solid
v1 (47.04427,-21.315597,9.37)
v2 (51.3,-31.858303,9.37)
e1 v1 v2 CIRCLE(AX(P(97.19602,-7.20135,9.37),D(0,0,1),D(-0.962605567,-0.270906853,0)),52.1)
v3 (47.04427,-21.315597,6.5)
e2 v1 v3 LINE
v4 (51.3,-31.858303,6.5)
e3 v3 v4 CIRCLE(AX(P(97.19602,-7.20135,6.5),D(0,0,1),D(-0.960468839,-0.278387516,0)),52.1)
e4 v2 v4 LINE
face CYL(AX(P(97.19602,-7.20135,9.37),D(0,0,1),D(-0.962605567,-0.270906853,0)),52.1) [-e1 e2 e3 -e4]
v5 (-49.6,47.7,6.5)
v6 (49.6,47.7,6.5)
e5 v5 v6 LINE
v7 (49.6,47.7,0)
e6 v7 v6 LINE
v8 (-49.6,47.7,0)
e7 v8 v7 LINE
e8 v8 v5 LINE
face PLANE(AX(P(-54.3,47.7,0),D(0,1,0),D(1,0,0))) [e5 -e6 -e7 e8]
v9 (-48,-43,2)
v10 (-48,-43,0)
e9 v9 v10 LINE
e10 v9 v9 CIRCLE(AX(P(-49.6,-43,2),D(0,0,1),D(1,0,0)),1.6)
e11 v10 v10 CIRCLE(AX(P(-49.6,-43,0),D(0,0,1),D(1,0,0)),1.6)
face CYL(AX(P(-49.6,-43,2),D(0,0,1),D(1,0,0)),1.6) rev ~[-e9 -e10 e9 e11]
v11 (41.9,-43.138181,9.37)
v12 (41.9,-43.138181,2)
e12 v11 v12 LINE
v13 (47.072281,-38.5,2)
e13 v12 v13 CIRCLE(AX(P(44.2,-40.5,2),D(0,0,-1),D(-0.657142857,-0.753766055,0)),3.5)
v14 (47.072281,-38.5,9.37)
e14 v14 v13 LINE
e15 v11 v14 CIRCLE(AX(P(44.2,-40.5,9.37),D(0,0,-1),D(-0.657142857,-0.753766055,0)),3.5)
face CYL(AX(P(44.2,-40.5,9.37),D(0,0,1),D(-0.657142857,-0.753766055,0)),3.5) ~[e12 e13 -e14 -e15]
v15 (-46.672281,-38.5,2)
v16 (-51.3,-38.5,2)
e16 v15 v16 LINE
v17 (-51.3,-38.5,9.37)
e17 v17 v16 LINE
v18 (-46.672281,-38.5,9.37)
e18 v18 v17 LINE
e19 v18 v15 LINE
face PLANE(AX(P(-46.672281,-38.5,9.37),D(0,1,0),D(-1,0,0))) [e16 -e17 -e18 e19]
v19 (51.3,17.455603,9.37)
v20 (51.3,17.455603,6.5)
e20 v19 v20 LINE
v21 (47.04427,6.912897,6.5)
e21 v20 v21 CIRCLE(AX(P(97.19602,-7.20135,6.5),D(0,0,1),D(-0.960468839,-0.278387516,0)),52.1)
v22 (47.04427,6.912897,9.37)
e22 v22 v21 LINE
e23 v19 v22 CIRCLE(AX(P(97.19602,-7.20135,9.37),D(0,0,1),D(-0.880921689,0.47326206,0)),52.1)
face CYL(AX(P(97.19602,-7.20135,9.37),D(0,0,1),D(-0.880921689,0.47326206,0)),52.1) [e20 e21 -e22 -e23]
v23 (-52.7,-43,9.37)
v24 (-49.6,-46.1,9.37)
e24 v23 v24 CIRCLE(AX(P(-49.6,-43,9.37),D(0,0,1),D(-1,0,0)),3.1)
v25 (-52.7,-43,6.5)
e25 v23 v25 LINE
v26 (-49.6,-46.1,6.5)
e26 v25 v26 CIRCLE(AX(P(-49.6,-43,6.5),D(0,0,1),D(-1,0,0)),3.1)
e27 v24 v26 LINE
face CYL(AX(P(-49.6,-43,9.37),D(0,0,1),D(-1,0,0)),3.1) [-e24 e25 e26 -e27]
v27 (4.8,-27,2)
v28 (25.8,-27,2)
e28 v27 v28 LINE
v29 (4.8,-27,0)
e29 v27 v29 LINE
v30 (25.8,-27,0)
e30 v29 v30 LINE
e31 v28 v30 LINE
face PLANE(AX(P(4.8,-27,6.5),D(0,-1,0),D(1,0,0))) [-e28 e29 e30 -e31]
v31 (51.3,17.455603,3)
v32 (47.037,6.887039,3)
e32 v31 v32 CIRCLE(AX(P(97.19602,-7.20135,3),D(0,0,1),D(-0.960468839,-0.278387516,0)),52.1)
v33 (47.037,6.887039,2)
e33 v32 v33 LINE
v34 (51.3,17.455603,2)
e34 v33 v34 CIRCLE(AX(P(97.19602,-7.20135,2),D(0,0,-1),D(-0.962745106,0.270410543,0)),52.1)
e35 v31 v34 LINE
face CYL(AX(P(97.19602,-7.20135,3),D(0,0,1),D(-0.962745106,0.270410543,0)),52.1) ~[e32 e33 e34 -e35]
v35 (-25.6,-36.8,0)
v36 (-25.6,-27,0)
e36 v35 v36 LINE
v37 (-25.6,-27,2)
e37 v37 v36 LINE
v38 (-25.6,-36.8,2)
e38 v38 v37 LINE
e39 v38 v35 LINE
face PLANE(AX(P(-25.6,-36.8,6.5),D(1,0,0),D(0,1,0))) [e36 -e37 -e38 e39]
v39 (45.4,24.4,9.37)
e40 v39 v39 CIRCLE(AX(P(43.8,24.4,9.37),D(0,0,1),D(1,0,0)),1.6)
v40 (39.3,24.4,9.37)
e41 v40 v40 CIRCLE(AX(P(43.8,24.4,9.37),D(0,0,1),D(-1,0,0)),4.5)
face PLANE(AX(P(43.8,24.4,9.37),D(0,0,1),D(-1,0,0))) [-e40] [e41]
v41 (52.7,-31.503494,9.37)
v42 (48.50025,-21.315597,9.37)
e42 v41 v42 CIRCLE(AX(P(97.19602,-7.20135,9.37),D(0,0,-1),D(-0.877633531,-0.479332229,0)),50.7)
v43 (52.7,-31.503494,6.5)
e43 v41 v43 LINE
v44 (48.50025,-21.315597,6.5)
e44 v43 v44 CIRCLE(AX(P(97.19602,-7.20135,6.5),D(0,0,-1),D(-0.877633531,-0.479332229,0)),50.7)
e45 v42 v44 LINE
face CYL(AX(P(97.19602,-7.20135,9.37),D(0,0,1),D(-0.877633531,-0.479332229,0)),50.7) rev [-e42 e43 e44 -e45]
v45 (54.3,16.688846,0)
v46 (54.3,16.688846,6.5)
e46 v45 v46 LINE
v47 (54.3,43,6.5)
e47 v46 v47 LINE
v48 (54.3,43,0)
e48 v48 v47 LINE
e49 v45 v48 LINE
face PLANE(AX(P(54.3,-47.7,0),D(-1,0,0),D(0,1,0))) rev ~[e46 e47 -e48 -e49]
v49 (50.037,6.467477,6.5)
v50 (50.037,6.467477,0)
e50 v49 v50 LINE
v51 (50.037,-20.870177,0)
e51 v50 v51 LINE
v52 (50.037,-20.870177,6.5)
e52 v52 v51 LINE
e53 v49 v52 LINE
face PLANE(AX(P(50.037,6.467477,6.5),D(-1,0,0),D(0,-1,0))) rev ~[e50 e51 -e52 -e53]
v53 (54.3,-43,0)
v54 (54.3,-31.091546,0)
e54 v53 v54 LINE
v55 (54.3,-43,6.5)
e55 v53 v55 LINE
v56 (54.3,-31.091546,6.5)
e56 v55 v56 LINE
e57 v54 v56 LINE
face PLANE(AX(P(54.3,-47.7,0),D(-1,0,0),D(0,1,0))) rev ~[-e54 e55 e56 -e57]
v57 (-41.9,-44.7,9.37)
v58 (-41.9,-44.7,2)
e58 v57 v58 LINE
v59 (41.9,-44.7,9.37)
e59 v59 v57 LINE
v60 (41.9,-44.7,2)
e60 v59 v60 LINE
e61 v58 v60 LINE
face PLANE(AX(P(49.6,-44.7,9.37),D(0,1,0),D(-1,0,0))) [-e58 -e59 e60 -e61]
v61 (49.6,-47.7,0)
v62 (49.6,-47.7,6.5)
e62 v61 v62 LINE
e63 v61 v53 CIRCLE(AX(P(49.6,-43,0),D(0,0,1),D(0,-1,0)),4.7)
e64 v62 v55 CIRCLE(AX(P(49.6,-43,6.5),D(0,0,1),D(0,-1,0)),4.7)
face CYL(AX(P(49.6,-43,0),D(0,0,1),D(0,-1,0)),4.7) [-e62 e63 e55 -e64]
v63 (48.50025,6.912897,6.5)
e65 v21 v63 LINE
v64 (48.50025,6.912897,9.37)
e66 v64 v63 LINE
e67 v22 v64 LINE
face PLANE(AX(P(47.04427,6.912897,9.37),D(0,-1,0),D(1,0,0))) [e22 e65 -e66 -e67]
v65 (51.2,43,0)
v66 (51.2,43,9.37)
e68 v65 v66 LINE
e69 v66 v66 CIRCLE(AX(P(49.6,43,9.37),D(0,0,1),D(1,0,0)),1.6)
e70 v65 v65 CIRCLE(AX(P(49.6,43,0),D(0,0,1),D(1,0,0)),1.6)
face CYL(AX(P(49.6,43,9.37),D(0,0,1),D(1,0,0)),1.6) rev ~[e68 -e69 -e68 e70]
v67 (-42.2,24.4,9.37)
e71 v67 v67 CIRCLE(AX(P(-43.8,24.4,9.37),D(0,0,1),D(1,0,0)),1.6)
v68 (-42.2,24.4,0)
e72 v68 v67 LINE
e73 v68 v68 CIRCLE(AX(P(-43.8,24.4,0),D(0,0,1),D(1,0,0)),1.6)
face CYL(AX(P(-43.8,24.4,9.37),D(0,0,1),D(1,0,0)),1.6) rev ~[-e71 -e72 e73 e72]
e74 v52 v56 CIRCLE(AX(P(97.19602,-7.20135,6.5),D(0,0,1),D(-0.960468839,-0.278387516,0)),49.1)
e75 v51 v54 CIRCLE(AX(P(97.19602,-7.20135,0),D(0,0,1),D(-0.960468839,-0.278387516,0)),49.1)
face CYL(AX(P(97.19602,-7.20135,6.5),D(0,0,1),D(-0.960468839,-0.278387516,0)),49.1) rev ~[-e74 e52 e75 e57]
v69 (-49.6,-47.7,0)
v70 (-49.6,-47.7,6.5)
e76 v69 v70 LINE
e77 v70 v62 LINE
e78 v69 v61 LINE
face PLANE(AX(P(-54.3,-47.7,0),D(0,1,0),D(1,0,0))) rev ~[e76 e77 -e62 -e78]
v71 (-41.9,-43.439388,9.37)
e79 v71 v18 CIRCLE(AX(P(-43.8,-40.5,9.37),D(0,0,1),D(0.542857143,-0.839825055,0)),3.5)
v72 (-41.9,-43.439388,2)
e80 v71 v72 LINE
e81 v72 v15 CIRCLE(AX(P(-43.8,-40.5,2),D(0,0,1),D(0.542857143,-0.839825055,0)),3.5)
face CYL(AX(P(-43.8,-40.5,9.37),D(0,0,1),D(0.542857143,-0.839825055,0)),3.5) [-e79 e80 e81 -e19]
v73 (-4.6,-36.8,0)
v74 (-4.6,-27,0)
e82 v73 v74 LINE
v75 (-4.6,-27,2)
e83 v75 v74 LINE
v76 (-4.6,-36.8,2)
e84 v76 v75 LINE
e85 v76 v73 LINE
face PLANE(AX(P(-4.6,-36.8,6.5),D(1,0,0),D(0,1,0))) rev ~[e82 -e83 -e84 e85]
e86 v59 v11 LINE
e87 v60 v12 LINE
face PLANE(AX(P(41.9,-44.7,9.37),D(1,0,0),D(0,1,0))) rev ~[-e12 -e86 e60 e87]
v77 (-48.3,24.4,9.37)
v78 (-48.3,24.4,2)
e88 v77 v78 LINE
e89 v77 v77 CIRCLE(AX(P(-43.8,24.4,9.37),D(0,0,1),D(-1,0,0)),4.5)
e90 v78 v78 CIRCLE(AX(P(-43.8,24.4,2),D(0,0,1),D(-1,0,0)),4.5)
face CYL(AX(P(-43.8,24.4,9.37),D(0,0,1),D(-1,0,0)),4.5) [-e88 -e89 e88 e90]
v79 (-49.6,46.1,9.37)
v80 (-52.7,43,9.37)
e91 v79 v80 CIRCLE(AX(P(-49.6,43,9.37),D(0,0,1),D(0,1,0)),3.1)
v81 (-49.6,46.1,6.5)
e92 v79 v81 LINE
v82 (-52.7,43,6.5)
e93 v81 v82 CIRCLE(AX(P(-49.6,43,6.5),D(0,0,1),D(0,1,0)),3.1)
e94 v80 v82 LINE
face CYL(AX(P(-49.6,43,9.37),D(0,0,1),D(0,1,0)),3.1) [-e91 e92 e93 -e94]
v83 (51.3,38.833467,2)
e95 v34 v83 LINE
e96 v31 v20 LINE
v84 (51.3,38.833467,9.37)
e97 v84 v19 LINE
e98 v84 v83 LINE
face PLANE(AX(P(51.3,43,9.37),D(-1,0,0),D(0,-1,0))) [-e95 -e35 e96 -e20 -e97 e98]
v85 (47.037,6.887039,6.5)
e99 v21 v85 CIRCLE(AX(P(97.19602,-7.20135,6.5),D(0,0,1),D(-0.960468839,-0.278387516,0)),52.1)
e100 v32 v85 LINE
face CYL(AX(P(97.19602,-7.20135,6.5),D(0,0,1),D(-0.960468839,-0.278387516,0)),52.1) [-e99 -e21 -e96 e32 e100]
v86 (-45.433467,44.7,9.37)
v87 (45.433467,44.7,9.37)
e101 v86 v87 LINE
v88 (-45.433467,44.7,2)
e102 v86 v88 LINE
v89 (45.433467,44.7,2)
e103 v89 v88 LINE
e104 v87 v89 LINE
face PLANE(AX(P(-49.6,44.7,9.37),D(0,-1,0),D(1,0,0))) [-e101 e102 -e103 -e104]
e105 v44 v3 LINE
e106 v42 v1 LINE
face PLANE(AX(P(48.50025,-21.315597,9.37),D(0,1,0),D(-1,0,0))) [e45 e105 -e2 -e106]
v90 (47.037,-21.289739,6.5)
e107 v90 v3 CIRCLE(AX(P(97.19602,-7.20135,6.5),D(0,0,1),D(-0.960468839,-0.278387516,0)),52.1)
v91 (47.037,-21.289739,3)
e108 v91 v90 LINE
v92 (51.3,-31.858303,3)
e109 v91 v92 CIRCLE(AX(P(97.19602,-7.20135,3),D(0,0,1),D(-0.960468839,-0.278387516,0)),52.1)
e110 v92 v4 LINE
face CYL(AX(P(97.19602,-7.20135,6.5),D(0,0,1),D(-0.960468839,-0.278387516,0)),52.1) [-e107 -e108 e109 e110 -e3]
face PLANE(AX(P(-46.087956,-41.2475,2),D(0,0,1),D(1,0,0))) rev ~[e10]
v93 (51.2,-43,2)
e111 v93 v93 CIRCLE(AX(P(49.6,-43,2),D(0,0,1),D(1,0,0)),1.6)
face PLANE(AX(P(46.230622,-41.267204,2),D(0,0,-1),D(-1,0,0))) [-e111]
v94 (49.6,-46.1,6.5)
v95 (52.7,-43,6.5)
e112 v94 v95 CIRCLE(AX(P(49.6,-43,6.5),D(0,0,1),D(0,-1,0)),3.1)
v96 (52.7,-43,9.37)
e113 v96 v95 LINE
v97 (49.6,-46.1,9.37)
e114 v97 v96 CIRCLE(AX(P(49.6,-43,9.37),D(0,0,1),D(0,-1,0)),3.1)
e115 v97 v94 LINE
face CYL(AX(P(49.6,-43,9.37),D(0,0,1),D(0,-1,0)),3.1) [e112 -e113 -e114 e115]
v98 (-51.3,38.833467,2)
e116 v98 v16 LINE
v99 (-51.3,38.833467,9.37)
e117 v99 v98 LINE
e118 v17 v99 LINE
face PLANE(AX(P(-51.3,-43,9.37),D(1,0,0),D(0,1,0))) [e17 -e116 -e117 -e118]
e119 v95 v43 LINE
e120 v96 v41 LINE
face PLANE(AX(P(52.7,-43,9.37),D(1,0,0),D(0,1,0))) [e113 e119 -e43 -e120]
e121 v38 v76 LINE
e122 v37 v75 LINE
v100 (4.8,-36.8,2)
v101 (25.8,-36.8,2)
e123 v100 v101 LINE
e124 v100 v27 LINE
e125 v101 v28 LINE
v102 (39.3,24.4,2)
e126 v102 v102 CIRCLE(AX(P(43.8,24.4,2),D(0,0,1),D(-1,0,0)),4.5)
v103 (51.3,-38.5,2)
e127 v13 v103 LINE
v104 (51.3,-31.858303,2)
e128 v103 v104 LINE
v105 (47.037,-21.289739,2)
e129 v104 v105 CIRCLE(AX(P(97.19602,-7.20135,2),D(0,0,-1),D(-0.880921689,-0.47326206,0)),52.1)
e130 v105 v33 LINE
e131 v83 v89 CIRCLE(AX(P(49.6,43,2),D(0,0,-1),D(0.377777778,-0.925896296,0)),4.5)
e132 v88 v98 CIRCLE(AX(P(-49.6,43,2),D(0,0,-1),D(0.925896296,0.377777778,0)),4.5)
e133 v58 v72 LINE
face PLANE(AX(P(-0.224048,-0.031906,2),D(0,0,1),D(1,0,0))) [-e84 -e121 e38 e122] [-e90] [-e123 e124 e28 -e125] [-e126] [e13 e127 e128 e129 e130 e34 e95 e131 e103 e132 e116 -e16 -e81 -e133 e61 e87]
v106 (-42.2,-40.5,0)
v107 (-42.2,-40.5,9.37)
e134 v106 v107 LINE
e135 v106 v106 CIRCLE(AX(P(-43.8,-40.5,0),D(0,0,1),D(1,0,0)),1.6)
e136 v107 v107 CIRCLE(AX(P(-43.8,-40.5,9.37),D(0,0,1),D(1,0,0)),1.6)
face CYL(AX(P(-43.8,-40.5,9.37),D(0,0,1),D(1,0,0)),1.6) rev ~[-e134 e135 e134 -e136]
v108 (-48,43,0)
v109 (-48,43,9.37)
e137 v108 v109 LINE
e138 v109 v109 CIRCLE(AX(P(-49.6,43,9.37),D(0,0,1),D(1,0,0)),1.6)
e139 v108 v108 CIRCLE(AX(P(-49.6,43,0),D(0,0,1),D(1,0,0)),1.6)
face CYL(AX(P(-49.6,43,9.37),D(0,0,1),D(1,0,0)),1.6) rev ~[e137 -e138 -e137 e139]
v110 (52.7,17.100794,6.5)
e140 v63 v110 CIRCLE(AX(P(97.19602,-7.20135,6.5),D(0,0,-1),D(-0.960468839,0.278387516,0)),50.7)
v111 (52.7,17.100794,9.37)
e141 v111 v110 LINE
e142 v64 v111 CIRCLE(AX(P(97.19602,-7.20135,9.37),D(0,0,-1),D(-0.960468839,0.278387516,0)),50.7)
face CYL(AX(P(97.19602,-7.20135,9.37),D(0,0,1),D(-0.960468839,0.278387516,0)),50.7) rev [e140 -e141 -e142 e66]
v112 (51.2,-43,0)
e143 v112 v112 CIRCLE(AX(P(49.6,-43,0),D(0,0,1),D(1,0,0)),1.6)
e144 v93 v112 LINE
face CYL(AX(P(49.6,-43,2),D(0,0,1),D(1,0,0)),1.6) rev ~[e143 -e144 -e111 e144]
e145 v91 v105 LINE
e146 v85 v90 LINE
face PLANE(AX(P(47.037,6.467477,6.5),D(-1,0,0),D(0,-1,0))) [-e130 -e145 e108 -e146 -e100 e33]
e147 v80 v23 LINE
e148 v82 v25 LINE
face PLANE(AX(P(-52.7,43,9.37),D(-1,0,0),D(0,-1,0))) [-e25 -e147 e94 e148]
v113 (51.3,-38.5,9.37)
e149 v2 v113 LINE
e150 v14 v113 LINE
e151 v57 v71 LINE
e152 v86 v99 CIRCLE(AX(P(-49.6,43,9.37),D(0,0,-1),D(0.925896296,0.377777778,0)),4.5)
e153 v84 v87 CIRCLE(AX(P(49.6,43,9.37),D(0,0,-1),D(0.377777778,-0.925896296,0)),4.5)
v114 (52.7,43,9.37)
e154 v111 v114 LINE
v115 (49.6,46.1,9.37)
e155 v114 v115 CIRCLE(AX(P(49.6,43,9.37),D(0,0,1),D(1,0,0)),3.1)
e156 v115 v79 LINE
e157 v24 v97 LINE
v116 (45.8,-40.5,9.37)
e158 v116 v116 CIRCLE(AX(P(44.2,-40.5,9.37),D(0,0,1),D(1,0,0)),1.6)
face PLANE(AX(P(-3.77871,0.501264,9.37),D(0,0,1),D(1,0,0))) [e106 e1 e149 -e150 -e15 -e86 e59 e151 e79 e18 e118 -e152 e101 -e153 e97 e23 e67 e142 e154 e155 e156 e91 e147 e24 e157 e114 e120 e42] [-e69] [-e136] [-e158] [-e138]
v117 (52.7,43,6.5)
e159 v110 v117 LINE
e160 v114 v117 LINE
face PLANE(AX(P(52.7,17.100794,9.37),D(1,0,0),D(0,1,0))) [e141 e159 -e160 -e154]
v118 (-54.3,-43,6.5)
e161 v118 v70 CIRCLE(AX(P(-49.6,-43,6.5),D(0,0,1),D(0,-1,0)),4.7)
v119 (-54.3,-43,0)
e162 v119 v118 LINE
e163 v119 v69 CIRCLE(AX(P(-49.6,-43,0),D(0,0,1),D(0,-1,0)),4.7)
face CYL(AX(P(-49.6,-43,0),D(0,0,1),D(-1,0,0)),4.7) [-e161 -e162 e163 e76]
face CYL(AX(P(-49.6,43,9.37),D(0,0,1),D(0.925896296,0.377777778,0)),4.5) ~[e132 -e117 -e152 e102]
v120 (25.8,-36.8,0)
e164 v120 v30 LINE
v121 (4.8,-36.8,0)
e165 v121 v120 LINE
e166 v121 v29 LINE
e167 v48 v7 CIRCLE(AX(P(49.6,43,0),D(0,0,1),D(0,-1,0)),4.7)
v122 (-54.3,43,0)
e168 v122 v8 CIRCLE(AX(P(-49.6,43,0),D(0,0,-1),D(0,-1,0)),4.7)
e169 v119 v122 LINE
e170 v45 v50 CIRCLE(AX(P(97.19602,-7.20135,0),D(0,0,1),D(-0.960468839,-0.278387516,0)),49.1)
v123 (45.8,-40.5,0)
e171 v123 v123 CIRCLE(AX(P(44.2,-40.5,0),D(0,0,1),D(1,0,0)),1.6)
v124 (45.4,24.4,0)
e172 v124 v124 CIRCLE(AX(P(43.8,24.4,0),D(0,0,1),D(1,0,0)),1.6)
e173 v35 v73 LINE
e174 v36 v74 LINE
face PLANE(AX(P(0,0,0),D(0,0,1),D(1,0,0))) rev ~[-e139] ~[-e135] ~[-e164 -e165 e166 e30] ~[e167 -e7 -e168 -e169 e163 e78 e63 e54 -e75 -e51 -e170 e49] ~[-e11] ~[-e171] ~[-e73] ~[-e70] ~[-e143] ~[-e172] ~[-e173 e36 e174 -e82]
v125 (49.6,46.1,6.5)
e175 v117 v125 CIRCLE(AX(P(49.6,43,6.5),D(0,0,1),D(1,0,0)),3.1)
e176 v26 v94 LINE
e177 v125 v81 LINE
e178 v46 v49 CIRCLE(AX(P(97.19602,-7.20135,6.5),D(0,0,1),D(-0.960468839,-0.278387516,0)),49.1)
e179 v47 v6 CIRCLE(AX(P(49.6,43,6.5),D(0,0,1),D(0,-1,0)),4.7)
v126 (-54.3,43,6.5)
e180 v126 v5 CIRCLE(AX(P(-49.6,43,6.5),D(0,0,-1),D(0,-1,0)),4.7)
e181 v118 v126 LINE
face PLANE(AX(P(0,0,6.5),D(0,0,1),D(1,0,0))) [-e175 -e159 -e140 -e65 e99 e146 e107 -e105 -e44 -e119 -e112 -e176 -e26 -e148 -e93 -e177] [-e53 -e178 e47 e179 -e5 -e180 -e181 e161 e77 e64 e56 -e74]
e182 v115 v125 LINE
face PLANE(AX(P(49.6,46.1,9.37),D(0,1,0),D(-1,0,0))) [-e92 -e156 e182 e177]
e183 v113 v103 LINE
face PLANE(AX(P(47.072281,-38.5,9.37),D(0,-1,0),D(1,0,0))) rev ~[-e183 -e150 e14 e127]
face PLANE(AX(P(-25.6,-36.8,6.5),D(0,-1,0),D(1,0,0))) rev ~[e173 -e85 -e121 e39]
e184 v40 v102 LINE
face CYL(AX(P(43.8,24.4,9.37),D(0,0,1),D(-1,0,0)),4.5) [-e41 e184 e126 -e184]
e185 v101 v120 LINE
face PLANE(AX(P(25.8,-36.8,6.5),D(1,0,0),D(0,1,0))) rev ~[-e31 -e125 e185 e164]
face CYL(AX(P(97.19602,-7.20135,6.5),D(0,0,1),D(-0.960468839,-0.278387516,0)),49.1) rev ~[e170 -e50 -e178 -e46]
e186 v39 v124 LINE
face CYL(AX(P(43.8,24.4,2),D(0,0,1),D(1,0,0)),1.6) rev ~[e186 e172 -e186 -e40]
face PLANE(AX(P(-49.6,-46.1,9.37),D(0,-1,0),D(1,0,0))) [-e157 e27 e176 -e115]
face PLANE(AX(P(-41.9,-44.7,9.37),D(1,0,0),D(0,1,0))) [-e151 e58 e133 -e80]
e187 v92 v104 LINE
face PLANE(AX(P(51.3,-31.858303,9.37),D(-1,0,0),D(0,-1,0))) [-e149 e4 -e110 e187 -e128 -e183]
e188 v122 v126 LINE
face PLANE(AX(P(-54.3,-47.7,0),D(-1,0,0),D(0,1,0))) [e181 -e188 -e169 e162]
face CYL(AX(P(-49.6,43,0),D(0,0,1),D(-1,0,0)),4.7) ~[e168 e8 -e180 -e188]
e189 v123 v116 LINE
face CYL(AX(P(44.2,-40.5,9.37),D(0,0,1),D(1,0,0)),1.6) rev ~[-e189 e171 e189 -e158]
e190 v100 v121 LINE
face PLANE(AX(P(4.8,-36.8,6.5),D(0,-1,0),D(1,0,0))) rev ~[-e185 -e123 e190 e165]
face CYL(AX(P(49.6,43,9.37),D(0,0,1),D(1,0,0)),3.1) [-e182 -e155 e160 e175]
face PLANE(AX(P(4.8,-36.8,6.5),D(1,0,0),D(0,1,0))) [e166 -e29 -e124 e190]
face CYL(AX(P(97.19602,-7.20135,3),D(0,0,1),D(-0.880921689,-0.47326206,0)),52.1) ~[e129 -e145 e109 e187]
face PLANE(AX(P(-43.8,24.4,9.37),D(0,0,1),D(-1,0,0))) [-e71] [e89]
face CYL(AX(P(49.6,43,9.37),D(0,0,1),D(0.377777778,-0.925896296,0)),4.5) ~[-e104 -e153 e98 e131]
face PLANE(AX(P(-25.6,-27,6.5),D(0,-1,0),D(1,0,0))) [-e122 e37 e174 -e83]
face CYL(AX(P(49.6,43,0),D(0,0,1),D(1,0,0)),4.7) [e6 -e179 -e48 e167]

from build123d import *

# Parameters (mm, degrees)
SKETCH1_W                = 108.6
SKETCH1_H                = 95.4
BOSS_EXTRUDE1_DEPTH      = 6.5
FILLET1_R                = 4.7
CUT_EXTRUDE2_DEPTH       = 73.567416931
SHELL1_T                 = -3
SHELL1_THICKNESS_2_DEPTH = 1
SKETCH3_W                = 21
SKETCH3_H                = 9.8
CUT_EXTRUDE1_DEPTH       = 73.567416931
BOSS_EXTRUDE2_START      = 2.87
BOSS_EXTRUDE2_DEPTH      = 2.87
SKETCH6_R                = 1.6
CUT_EXTRUDE3_DEPTH       = 73.650512042
BOSS_EXTRUDE3_START      = 7.37
SKETCH7_R                = 4.5
SKETCH7_R_2              = 1.6
BOSS_EXTRUDE3_DEPTH      = 7.37


with BuildPart() as part:
    # Sketch1 → Boss-Extrude1 (new body)
    with BuildSketch(Plane.XY):
        Rectangle(SKETCH1_W, SKETCH1_H)
    extrude(amount=BOSS_EXTRUDE1_DEPTH)

    # Fillet1
    fillet1_edges = [part.edges().sort_by_distance(p)[0] for p in [
        (54.3, -47.7, 3.25),
        (-54.3, -47.7, 3.25),
        (-54.3, 47.7, 3.25),
        (54.3, 47.7, 3.25),
    ]]
    fillet(fillet1_edges, radius=FILLET1_R)

    # Sketch4 → Cut-Extrude2 (cut, through all)
    with BuildSketch(Plane.XY.offset(6.5)):
        with BuildLine():
            Line((50.037, 6.46747704), (50.037, -20.87017704))
            ThreePointArc((50.037, -20.87017704), (146.29602, -7.20135), (50.037, 6.46747704))
        make_face()
    extrude(amount=-CUT_EXTRUDE2_DEPTH, mode=Mode.SUBTRACT)

    # Shell1
    shell1_openings = [part.faces().sort_by_distance(p)[0] for p in [
        (-0.847501067, 0.116576538, 6.5),
    ]]
    offset(amount=SHELL1_T, openings=shell1_openings, kind=Kind.INTERSECTION)

    # Shell1 thickness 2 face (on inner face of the shell) → Shell1 thickness 2 (cut)
    with BuildSketch(Plane(origin=(-0.931808726, 0.135963236, 3), x_dir=(-1, 0, 0), z_dir=(0, 0, -1))):
        with BuildLine():
            ThreePointArc((50.368191274, -43.135963236), (49.870272802, -44.338044764), (48.668191274, -44.835963236))
            Line((48.668191274, -44.835963236), (-50.531808726, -44.835963236))
            ThreePointArc((-50.531808726, -44.835963236), (-51.733890254, -44.338044764), (-52.231808726, -43.135963236))
            Line((-52.231808726, -43.135963236), (-52.231808726, -31.994266579))
            ThreePointArc((-52.231808726, -31.994266579), (-49.810478696, -26.826892146), (-47.968808726, -21.425702521))
            Line((-47.968808726, -21.425702521), (-47.968808726, 6.751076049))
            ThreePointArc((-47.968808726, 6.751076049), (-49.810478696, 12.152265674), (-52.231808726, 17.319640107))
            Line((-52.231808726, 17.319640107), (-52.231808726, 42.864036764))
            ThreePointArc((-52.231808726, 42.864036764), (-51.733890254, 44.066118292), (-50.531808726, 44.564036764))
            Line((-50.531808726, 44.564036764), (48.668191274, 44.564036764))
            ThreePointArc((48.668191274, 44.564036764), (49.870272802, 44.066118292), (50.368191274, 42.864036764))
            Line((50.368191274, 42.864036764), (50.368191274, -43.135963236))
        make_face()
    extrude(amount=SHELL1_THICKNESS_2_DEPTH, mode=Mode.SUBTRACT)

    # Sketch3 → Cut-Extrude1 (cut, through all)
    with BuildSketch(Plane.XY.offset(6.5)):
        with Locations((-15.1, -31.9)):
            Rectangle(SKETCH3_W, SKETCH3_H)
        with Locations((15.3, -31.9)):
            Rectangle(SKETCH3_W, SKETCH3_H)
    extrude(amount=-CUT_EXTRUDE1_DEPTH, mode=Mode.SUBTRACT)

    # Sketch5 → Boss-Extrude2 (add)
    with BuildSketch(Plane.XY.offset(6.5).offset(BOSS_EXTRUDE2_START)):
        with BuildLine():
            Line((52.7, 17.100794024), (52.7, 43))
            ThreePointArc((52.7, 43), (51.792031022, 45.192031022), (49.6, 46.1))
            Line((49.6, 46.1), (-49.6, 46.1))
            ThreePointArc((-49.6, 46.1), (-51.792031022, 45.192031022), (-52.7, 43))
            Line((-52.7, 43), (-52.7, -43))
            ThreePointArc((-52.7, -43), (-51.792031022, -45.192031022), (-49.6, -46.1))
            Line((-49.6, -46.1), (49.6, -46.1))
            ThreePointArc((49.6, -46.1), (51.792031022, -45.192031022), (52.7, -43))
            Line((52.7, -43), (52.7, -31.503494024))
            ThreePointArc((52.7, -31.503494024), (50.322512039, -26.523985726), (48.500249857, -21.315597065))
            Line((48.500249857, -21.315597065), (47.044269983, -21.315597065))
            ThreePointArc((47.044269983, -21.315597065), (48.883695535, -26.70338335), (51.3, -31.858303343))
            Line((51.3, -31.858303343), (51.3, -43))
            ThreePointArc((51.3, -43), (50.802081528, -44.202081528), (49.6, -44.7))
            Line((49.6, -44.7), (-49.6, -44.7))
            ThreePointArc((-49.6, -44.7), (-50.802081528, -44.202081528), (-51.3, -43))
            Line((-51.3, -43), (-51.3, 43))
            ThreePointArc((-51.3, 43), (-50.802081528, 44.202081528), (-49.6, 44.7))
            Line((-49.6, 44.7), (49.6, 44.7))
            ThreePointArc((49.6, 44.7), (50.802081528, 44.202081528), (51.3, 43))
            Line((51.3, 43), (51.3, 17.455603343))
            ThreePointArc((51.3, 17.455603343), (48.883695535, 12.30068335), (47.044269983, 6.912897065))
            Line((47.044269983, 6.912897065), (48.500249857, 6.912897065))
            ThreePointArc((48.500249857, 6.912897065), (50.322512039, 12.121285726), (52.7, 17.100794024))
        make_face()
    extrude(amount=-BOSS_EXTRUDE2_DEPTH)

    # Sketch6 → Cut-Extrude3 (cut, through all)
    with BuildSketch(Plane.XY.offset(2)):
        with Locations((-49.6, 43)):
            Circle(SKETCH6_R)
        with Locations((-43.8, 24.4)):
            Circle(SKETCH6_R)
        with Locations((43.8, 24.4)):
            Circle(SKETCH6_R)
        with Locations((49.6, 43)):
            Circle(SKETCH6_R)
        with Locations((49.6, -43)):
            Circle(SKETCH6_R)
        with Locations((44.2, -40.5)):
            Circle(SKETCH6_R)
        with Locations((-49.6, -43)):
            Circle(SKETCH6_R)
        with Locations((-43.8, -40.5)):
            Circle(SKETCH6_R)
    extrude(amount=-CUT_EXTRUDE3_DEPTH, mode=Mode.SUBTRACT)

    # Sketch7 → Boss-Extrude3 (add)
    # profile 1 of 6: a face of its own
    with BuildSketch(Plane.XY.offset(2).offset(BOSS_EXTRUDE3_START)):
        with Locations(Location((-43.8, 24.4, 0), (0, 0, 180))):
            Circle(SKETCH7_R)
        with Locations((-43.8, 24.4)):
            Circle(SKETCH7_R_2, mode=Mode.SUBTRACT)
    # profile 2 of 6: a face of its own
    with BuildSketch(Plane.XY.offset(2).offset(BOSS_EXTRUDE3_START)):
        with Locations(Location((43.8, 24.4, 0), (0, 0, 180))):
            Circle(SKETCH7_R)
        with Locations((43.8, 24.4)):
            Circle(SKETCH7_R_2, mode=Mode.SUBTRACT)
    # profile 3 of 6: a face of its own
    with BuildSketch(Plane.XY.offset(2).offset(BOSS_EXTRUDE3_START)):
        with BuildLine():
            Line((47.072281323, -38.5), (51.3, -38.5))
            Line((51.3, -38.5), (51.3, -43))
            ThreePointArc((51.3, -43), (50.802081528, -44.202081528), (49.6, -44.7))
            Line((49.6, -44.7), (41.9, -44.7))
            Line((41.9, -44.7), (41.9, -43.138181192))
            ThreePointArc((41.9, -43.138181192), (41.863323371, -37.894248222), (47.072281323, -38.5))
        make_face()
        with Locations((44.2, -40.5)):
            Circle(SKETCH7_R_2, mode=Mode.SUBTRACT)
    # profile 4 of 6: a face of its own
    with BuildSketch(Plane.XY.offset(2).offset(BOSS_EXTRUDE3_START)):
        with BuildLine():
            Line((-49.6, -44.7), (-41.9, -44.7))
            Line((-41.9, -44.7), (-41.9, -43.439387691))
            ThreePointArc((-41.9, -43.439387691), (-41.282914297, -38.068070814), (-46.672281323, -38.5))
            Line((-46.672281323, -38.5), (-51.3, -38.5))
            Line((-51.3, -38.5), (-51.3, -43))
            ThreePointArc((-51.3, -43), (-50.802081528, -44.202081528), (-49.6, -44.7))
        make_face()
        with Locations((-43.8, -40.5)):
            Circle(SKETCH7_R_2, mode=Mode.SUBTRACT)
    # profile 5 of 6: a face of its own
    with BuildSketch(Plane.XY.offset(2).offset(BOSS_EXTRUDE3_START)):
        with BuildLine():
            Line((-49.6, 44.7), (-45.433466669, 44.7))
            ThreePointArc((-45.433466669, 44.7), (-46.418019485, 39.818019485), (-51.3, 38.833466669))
            Line((-51.3, 38.833466669), (-51.3, 43))
            ThreePointArc((-51.3, 43), (-50.802081528, 44.202081528), (-49.6, 44.7))
        make_face()
        with Locations((-49.6, 43)):
            Circle(SKETCH7_R_2, mode=Mode.SUBTRACT)
    # profile 6 of 6: a face of its own
    with BuildSketch(Plane.XY.offset(2).offset(BOSS_EXTRUDE3_START)):
        with BuildLine():
            Line((45.433466669, 44.7), (49.6, 44.7))
            ThreePointArc((49.6, 44.7), (50.802081528, 44.202081528), (51.3, 43))
            Line((51.3, 43), (51.3, 38.833466669))
            ThreePointArc((51.3, 38.833466669), (46.418019485, 39.818019485), (45.433466669, 44.7))
        make_face()
        with Locations((49.6, 43)):
            Circle(SKETCH7_R_2, mode=Mode.SUBTRACT)
    extrude(amount=-BOSS_EXTRUDE3_DEPTH)


solid = part.part
